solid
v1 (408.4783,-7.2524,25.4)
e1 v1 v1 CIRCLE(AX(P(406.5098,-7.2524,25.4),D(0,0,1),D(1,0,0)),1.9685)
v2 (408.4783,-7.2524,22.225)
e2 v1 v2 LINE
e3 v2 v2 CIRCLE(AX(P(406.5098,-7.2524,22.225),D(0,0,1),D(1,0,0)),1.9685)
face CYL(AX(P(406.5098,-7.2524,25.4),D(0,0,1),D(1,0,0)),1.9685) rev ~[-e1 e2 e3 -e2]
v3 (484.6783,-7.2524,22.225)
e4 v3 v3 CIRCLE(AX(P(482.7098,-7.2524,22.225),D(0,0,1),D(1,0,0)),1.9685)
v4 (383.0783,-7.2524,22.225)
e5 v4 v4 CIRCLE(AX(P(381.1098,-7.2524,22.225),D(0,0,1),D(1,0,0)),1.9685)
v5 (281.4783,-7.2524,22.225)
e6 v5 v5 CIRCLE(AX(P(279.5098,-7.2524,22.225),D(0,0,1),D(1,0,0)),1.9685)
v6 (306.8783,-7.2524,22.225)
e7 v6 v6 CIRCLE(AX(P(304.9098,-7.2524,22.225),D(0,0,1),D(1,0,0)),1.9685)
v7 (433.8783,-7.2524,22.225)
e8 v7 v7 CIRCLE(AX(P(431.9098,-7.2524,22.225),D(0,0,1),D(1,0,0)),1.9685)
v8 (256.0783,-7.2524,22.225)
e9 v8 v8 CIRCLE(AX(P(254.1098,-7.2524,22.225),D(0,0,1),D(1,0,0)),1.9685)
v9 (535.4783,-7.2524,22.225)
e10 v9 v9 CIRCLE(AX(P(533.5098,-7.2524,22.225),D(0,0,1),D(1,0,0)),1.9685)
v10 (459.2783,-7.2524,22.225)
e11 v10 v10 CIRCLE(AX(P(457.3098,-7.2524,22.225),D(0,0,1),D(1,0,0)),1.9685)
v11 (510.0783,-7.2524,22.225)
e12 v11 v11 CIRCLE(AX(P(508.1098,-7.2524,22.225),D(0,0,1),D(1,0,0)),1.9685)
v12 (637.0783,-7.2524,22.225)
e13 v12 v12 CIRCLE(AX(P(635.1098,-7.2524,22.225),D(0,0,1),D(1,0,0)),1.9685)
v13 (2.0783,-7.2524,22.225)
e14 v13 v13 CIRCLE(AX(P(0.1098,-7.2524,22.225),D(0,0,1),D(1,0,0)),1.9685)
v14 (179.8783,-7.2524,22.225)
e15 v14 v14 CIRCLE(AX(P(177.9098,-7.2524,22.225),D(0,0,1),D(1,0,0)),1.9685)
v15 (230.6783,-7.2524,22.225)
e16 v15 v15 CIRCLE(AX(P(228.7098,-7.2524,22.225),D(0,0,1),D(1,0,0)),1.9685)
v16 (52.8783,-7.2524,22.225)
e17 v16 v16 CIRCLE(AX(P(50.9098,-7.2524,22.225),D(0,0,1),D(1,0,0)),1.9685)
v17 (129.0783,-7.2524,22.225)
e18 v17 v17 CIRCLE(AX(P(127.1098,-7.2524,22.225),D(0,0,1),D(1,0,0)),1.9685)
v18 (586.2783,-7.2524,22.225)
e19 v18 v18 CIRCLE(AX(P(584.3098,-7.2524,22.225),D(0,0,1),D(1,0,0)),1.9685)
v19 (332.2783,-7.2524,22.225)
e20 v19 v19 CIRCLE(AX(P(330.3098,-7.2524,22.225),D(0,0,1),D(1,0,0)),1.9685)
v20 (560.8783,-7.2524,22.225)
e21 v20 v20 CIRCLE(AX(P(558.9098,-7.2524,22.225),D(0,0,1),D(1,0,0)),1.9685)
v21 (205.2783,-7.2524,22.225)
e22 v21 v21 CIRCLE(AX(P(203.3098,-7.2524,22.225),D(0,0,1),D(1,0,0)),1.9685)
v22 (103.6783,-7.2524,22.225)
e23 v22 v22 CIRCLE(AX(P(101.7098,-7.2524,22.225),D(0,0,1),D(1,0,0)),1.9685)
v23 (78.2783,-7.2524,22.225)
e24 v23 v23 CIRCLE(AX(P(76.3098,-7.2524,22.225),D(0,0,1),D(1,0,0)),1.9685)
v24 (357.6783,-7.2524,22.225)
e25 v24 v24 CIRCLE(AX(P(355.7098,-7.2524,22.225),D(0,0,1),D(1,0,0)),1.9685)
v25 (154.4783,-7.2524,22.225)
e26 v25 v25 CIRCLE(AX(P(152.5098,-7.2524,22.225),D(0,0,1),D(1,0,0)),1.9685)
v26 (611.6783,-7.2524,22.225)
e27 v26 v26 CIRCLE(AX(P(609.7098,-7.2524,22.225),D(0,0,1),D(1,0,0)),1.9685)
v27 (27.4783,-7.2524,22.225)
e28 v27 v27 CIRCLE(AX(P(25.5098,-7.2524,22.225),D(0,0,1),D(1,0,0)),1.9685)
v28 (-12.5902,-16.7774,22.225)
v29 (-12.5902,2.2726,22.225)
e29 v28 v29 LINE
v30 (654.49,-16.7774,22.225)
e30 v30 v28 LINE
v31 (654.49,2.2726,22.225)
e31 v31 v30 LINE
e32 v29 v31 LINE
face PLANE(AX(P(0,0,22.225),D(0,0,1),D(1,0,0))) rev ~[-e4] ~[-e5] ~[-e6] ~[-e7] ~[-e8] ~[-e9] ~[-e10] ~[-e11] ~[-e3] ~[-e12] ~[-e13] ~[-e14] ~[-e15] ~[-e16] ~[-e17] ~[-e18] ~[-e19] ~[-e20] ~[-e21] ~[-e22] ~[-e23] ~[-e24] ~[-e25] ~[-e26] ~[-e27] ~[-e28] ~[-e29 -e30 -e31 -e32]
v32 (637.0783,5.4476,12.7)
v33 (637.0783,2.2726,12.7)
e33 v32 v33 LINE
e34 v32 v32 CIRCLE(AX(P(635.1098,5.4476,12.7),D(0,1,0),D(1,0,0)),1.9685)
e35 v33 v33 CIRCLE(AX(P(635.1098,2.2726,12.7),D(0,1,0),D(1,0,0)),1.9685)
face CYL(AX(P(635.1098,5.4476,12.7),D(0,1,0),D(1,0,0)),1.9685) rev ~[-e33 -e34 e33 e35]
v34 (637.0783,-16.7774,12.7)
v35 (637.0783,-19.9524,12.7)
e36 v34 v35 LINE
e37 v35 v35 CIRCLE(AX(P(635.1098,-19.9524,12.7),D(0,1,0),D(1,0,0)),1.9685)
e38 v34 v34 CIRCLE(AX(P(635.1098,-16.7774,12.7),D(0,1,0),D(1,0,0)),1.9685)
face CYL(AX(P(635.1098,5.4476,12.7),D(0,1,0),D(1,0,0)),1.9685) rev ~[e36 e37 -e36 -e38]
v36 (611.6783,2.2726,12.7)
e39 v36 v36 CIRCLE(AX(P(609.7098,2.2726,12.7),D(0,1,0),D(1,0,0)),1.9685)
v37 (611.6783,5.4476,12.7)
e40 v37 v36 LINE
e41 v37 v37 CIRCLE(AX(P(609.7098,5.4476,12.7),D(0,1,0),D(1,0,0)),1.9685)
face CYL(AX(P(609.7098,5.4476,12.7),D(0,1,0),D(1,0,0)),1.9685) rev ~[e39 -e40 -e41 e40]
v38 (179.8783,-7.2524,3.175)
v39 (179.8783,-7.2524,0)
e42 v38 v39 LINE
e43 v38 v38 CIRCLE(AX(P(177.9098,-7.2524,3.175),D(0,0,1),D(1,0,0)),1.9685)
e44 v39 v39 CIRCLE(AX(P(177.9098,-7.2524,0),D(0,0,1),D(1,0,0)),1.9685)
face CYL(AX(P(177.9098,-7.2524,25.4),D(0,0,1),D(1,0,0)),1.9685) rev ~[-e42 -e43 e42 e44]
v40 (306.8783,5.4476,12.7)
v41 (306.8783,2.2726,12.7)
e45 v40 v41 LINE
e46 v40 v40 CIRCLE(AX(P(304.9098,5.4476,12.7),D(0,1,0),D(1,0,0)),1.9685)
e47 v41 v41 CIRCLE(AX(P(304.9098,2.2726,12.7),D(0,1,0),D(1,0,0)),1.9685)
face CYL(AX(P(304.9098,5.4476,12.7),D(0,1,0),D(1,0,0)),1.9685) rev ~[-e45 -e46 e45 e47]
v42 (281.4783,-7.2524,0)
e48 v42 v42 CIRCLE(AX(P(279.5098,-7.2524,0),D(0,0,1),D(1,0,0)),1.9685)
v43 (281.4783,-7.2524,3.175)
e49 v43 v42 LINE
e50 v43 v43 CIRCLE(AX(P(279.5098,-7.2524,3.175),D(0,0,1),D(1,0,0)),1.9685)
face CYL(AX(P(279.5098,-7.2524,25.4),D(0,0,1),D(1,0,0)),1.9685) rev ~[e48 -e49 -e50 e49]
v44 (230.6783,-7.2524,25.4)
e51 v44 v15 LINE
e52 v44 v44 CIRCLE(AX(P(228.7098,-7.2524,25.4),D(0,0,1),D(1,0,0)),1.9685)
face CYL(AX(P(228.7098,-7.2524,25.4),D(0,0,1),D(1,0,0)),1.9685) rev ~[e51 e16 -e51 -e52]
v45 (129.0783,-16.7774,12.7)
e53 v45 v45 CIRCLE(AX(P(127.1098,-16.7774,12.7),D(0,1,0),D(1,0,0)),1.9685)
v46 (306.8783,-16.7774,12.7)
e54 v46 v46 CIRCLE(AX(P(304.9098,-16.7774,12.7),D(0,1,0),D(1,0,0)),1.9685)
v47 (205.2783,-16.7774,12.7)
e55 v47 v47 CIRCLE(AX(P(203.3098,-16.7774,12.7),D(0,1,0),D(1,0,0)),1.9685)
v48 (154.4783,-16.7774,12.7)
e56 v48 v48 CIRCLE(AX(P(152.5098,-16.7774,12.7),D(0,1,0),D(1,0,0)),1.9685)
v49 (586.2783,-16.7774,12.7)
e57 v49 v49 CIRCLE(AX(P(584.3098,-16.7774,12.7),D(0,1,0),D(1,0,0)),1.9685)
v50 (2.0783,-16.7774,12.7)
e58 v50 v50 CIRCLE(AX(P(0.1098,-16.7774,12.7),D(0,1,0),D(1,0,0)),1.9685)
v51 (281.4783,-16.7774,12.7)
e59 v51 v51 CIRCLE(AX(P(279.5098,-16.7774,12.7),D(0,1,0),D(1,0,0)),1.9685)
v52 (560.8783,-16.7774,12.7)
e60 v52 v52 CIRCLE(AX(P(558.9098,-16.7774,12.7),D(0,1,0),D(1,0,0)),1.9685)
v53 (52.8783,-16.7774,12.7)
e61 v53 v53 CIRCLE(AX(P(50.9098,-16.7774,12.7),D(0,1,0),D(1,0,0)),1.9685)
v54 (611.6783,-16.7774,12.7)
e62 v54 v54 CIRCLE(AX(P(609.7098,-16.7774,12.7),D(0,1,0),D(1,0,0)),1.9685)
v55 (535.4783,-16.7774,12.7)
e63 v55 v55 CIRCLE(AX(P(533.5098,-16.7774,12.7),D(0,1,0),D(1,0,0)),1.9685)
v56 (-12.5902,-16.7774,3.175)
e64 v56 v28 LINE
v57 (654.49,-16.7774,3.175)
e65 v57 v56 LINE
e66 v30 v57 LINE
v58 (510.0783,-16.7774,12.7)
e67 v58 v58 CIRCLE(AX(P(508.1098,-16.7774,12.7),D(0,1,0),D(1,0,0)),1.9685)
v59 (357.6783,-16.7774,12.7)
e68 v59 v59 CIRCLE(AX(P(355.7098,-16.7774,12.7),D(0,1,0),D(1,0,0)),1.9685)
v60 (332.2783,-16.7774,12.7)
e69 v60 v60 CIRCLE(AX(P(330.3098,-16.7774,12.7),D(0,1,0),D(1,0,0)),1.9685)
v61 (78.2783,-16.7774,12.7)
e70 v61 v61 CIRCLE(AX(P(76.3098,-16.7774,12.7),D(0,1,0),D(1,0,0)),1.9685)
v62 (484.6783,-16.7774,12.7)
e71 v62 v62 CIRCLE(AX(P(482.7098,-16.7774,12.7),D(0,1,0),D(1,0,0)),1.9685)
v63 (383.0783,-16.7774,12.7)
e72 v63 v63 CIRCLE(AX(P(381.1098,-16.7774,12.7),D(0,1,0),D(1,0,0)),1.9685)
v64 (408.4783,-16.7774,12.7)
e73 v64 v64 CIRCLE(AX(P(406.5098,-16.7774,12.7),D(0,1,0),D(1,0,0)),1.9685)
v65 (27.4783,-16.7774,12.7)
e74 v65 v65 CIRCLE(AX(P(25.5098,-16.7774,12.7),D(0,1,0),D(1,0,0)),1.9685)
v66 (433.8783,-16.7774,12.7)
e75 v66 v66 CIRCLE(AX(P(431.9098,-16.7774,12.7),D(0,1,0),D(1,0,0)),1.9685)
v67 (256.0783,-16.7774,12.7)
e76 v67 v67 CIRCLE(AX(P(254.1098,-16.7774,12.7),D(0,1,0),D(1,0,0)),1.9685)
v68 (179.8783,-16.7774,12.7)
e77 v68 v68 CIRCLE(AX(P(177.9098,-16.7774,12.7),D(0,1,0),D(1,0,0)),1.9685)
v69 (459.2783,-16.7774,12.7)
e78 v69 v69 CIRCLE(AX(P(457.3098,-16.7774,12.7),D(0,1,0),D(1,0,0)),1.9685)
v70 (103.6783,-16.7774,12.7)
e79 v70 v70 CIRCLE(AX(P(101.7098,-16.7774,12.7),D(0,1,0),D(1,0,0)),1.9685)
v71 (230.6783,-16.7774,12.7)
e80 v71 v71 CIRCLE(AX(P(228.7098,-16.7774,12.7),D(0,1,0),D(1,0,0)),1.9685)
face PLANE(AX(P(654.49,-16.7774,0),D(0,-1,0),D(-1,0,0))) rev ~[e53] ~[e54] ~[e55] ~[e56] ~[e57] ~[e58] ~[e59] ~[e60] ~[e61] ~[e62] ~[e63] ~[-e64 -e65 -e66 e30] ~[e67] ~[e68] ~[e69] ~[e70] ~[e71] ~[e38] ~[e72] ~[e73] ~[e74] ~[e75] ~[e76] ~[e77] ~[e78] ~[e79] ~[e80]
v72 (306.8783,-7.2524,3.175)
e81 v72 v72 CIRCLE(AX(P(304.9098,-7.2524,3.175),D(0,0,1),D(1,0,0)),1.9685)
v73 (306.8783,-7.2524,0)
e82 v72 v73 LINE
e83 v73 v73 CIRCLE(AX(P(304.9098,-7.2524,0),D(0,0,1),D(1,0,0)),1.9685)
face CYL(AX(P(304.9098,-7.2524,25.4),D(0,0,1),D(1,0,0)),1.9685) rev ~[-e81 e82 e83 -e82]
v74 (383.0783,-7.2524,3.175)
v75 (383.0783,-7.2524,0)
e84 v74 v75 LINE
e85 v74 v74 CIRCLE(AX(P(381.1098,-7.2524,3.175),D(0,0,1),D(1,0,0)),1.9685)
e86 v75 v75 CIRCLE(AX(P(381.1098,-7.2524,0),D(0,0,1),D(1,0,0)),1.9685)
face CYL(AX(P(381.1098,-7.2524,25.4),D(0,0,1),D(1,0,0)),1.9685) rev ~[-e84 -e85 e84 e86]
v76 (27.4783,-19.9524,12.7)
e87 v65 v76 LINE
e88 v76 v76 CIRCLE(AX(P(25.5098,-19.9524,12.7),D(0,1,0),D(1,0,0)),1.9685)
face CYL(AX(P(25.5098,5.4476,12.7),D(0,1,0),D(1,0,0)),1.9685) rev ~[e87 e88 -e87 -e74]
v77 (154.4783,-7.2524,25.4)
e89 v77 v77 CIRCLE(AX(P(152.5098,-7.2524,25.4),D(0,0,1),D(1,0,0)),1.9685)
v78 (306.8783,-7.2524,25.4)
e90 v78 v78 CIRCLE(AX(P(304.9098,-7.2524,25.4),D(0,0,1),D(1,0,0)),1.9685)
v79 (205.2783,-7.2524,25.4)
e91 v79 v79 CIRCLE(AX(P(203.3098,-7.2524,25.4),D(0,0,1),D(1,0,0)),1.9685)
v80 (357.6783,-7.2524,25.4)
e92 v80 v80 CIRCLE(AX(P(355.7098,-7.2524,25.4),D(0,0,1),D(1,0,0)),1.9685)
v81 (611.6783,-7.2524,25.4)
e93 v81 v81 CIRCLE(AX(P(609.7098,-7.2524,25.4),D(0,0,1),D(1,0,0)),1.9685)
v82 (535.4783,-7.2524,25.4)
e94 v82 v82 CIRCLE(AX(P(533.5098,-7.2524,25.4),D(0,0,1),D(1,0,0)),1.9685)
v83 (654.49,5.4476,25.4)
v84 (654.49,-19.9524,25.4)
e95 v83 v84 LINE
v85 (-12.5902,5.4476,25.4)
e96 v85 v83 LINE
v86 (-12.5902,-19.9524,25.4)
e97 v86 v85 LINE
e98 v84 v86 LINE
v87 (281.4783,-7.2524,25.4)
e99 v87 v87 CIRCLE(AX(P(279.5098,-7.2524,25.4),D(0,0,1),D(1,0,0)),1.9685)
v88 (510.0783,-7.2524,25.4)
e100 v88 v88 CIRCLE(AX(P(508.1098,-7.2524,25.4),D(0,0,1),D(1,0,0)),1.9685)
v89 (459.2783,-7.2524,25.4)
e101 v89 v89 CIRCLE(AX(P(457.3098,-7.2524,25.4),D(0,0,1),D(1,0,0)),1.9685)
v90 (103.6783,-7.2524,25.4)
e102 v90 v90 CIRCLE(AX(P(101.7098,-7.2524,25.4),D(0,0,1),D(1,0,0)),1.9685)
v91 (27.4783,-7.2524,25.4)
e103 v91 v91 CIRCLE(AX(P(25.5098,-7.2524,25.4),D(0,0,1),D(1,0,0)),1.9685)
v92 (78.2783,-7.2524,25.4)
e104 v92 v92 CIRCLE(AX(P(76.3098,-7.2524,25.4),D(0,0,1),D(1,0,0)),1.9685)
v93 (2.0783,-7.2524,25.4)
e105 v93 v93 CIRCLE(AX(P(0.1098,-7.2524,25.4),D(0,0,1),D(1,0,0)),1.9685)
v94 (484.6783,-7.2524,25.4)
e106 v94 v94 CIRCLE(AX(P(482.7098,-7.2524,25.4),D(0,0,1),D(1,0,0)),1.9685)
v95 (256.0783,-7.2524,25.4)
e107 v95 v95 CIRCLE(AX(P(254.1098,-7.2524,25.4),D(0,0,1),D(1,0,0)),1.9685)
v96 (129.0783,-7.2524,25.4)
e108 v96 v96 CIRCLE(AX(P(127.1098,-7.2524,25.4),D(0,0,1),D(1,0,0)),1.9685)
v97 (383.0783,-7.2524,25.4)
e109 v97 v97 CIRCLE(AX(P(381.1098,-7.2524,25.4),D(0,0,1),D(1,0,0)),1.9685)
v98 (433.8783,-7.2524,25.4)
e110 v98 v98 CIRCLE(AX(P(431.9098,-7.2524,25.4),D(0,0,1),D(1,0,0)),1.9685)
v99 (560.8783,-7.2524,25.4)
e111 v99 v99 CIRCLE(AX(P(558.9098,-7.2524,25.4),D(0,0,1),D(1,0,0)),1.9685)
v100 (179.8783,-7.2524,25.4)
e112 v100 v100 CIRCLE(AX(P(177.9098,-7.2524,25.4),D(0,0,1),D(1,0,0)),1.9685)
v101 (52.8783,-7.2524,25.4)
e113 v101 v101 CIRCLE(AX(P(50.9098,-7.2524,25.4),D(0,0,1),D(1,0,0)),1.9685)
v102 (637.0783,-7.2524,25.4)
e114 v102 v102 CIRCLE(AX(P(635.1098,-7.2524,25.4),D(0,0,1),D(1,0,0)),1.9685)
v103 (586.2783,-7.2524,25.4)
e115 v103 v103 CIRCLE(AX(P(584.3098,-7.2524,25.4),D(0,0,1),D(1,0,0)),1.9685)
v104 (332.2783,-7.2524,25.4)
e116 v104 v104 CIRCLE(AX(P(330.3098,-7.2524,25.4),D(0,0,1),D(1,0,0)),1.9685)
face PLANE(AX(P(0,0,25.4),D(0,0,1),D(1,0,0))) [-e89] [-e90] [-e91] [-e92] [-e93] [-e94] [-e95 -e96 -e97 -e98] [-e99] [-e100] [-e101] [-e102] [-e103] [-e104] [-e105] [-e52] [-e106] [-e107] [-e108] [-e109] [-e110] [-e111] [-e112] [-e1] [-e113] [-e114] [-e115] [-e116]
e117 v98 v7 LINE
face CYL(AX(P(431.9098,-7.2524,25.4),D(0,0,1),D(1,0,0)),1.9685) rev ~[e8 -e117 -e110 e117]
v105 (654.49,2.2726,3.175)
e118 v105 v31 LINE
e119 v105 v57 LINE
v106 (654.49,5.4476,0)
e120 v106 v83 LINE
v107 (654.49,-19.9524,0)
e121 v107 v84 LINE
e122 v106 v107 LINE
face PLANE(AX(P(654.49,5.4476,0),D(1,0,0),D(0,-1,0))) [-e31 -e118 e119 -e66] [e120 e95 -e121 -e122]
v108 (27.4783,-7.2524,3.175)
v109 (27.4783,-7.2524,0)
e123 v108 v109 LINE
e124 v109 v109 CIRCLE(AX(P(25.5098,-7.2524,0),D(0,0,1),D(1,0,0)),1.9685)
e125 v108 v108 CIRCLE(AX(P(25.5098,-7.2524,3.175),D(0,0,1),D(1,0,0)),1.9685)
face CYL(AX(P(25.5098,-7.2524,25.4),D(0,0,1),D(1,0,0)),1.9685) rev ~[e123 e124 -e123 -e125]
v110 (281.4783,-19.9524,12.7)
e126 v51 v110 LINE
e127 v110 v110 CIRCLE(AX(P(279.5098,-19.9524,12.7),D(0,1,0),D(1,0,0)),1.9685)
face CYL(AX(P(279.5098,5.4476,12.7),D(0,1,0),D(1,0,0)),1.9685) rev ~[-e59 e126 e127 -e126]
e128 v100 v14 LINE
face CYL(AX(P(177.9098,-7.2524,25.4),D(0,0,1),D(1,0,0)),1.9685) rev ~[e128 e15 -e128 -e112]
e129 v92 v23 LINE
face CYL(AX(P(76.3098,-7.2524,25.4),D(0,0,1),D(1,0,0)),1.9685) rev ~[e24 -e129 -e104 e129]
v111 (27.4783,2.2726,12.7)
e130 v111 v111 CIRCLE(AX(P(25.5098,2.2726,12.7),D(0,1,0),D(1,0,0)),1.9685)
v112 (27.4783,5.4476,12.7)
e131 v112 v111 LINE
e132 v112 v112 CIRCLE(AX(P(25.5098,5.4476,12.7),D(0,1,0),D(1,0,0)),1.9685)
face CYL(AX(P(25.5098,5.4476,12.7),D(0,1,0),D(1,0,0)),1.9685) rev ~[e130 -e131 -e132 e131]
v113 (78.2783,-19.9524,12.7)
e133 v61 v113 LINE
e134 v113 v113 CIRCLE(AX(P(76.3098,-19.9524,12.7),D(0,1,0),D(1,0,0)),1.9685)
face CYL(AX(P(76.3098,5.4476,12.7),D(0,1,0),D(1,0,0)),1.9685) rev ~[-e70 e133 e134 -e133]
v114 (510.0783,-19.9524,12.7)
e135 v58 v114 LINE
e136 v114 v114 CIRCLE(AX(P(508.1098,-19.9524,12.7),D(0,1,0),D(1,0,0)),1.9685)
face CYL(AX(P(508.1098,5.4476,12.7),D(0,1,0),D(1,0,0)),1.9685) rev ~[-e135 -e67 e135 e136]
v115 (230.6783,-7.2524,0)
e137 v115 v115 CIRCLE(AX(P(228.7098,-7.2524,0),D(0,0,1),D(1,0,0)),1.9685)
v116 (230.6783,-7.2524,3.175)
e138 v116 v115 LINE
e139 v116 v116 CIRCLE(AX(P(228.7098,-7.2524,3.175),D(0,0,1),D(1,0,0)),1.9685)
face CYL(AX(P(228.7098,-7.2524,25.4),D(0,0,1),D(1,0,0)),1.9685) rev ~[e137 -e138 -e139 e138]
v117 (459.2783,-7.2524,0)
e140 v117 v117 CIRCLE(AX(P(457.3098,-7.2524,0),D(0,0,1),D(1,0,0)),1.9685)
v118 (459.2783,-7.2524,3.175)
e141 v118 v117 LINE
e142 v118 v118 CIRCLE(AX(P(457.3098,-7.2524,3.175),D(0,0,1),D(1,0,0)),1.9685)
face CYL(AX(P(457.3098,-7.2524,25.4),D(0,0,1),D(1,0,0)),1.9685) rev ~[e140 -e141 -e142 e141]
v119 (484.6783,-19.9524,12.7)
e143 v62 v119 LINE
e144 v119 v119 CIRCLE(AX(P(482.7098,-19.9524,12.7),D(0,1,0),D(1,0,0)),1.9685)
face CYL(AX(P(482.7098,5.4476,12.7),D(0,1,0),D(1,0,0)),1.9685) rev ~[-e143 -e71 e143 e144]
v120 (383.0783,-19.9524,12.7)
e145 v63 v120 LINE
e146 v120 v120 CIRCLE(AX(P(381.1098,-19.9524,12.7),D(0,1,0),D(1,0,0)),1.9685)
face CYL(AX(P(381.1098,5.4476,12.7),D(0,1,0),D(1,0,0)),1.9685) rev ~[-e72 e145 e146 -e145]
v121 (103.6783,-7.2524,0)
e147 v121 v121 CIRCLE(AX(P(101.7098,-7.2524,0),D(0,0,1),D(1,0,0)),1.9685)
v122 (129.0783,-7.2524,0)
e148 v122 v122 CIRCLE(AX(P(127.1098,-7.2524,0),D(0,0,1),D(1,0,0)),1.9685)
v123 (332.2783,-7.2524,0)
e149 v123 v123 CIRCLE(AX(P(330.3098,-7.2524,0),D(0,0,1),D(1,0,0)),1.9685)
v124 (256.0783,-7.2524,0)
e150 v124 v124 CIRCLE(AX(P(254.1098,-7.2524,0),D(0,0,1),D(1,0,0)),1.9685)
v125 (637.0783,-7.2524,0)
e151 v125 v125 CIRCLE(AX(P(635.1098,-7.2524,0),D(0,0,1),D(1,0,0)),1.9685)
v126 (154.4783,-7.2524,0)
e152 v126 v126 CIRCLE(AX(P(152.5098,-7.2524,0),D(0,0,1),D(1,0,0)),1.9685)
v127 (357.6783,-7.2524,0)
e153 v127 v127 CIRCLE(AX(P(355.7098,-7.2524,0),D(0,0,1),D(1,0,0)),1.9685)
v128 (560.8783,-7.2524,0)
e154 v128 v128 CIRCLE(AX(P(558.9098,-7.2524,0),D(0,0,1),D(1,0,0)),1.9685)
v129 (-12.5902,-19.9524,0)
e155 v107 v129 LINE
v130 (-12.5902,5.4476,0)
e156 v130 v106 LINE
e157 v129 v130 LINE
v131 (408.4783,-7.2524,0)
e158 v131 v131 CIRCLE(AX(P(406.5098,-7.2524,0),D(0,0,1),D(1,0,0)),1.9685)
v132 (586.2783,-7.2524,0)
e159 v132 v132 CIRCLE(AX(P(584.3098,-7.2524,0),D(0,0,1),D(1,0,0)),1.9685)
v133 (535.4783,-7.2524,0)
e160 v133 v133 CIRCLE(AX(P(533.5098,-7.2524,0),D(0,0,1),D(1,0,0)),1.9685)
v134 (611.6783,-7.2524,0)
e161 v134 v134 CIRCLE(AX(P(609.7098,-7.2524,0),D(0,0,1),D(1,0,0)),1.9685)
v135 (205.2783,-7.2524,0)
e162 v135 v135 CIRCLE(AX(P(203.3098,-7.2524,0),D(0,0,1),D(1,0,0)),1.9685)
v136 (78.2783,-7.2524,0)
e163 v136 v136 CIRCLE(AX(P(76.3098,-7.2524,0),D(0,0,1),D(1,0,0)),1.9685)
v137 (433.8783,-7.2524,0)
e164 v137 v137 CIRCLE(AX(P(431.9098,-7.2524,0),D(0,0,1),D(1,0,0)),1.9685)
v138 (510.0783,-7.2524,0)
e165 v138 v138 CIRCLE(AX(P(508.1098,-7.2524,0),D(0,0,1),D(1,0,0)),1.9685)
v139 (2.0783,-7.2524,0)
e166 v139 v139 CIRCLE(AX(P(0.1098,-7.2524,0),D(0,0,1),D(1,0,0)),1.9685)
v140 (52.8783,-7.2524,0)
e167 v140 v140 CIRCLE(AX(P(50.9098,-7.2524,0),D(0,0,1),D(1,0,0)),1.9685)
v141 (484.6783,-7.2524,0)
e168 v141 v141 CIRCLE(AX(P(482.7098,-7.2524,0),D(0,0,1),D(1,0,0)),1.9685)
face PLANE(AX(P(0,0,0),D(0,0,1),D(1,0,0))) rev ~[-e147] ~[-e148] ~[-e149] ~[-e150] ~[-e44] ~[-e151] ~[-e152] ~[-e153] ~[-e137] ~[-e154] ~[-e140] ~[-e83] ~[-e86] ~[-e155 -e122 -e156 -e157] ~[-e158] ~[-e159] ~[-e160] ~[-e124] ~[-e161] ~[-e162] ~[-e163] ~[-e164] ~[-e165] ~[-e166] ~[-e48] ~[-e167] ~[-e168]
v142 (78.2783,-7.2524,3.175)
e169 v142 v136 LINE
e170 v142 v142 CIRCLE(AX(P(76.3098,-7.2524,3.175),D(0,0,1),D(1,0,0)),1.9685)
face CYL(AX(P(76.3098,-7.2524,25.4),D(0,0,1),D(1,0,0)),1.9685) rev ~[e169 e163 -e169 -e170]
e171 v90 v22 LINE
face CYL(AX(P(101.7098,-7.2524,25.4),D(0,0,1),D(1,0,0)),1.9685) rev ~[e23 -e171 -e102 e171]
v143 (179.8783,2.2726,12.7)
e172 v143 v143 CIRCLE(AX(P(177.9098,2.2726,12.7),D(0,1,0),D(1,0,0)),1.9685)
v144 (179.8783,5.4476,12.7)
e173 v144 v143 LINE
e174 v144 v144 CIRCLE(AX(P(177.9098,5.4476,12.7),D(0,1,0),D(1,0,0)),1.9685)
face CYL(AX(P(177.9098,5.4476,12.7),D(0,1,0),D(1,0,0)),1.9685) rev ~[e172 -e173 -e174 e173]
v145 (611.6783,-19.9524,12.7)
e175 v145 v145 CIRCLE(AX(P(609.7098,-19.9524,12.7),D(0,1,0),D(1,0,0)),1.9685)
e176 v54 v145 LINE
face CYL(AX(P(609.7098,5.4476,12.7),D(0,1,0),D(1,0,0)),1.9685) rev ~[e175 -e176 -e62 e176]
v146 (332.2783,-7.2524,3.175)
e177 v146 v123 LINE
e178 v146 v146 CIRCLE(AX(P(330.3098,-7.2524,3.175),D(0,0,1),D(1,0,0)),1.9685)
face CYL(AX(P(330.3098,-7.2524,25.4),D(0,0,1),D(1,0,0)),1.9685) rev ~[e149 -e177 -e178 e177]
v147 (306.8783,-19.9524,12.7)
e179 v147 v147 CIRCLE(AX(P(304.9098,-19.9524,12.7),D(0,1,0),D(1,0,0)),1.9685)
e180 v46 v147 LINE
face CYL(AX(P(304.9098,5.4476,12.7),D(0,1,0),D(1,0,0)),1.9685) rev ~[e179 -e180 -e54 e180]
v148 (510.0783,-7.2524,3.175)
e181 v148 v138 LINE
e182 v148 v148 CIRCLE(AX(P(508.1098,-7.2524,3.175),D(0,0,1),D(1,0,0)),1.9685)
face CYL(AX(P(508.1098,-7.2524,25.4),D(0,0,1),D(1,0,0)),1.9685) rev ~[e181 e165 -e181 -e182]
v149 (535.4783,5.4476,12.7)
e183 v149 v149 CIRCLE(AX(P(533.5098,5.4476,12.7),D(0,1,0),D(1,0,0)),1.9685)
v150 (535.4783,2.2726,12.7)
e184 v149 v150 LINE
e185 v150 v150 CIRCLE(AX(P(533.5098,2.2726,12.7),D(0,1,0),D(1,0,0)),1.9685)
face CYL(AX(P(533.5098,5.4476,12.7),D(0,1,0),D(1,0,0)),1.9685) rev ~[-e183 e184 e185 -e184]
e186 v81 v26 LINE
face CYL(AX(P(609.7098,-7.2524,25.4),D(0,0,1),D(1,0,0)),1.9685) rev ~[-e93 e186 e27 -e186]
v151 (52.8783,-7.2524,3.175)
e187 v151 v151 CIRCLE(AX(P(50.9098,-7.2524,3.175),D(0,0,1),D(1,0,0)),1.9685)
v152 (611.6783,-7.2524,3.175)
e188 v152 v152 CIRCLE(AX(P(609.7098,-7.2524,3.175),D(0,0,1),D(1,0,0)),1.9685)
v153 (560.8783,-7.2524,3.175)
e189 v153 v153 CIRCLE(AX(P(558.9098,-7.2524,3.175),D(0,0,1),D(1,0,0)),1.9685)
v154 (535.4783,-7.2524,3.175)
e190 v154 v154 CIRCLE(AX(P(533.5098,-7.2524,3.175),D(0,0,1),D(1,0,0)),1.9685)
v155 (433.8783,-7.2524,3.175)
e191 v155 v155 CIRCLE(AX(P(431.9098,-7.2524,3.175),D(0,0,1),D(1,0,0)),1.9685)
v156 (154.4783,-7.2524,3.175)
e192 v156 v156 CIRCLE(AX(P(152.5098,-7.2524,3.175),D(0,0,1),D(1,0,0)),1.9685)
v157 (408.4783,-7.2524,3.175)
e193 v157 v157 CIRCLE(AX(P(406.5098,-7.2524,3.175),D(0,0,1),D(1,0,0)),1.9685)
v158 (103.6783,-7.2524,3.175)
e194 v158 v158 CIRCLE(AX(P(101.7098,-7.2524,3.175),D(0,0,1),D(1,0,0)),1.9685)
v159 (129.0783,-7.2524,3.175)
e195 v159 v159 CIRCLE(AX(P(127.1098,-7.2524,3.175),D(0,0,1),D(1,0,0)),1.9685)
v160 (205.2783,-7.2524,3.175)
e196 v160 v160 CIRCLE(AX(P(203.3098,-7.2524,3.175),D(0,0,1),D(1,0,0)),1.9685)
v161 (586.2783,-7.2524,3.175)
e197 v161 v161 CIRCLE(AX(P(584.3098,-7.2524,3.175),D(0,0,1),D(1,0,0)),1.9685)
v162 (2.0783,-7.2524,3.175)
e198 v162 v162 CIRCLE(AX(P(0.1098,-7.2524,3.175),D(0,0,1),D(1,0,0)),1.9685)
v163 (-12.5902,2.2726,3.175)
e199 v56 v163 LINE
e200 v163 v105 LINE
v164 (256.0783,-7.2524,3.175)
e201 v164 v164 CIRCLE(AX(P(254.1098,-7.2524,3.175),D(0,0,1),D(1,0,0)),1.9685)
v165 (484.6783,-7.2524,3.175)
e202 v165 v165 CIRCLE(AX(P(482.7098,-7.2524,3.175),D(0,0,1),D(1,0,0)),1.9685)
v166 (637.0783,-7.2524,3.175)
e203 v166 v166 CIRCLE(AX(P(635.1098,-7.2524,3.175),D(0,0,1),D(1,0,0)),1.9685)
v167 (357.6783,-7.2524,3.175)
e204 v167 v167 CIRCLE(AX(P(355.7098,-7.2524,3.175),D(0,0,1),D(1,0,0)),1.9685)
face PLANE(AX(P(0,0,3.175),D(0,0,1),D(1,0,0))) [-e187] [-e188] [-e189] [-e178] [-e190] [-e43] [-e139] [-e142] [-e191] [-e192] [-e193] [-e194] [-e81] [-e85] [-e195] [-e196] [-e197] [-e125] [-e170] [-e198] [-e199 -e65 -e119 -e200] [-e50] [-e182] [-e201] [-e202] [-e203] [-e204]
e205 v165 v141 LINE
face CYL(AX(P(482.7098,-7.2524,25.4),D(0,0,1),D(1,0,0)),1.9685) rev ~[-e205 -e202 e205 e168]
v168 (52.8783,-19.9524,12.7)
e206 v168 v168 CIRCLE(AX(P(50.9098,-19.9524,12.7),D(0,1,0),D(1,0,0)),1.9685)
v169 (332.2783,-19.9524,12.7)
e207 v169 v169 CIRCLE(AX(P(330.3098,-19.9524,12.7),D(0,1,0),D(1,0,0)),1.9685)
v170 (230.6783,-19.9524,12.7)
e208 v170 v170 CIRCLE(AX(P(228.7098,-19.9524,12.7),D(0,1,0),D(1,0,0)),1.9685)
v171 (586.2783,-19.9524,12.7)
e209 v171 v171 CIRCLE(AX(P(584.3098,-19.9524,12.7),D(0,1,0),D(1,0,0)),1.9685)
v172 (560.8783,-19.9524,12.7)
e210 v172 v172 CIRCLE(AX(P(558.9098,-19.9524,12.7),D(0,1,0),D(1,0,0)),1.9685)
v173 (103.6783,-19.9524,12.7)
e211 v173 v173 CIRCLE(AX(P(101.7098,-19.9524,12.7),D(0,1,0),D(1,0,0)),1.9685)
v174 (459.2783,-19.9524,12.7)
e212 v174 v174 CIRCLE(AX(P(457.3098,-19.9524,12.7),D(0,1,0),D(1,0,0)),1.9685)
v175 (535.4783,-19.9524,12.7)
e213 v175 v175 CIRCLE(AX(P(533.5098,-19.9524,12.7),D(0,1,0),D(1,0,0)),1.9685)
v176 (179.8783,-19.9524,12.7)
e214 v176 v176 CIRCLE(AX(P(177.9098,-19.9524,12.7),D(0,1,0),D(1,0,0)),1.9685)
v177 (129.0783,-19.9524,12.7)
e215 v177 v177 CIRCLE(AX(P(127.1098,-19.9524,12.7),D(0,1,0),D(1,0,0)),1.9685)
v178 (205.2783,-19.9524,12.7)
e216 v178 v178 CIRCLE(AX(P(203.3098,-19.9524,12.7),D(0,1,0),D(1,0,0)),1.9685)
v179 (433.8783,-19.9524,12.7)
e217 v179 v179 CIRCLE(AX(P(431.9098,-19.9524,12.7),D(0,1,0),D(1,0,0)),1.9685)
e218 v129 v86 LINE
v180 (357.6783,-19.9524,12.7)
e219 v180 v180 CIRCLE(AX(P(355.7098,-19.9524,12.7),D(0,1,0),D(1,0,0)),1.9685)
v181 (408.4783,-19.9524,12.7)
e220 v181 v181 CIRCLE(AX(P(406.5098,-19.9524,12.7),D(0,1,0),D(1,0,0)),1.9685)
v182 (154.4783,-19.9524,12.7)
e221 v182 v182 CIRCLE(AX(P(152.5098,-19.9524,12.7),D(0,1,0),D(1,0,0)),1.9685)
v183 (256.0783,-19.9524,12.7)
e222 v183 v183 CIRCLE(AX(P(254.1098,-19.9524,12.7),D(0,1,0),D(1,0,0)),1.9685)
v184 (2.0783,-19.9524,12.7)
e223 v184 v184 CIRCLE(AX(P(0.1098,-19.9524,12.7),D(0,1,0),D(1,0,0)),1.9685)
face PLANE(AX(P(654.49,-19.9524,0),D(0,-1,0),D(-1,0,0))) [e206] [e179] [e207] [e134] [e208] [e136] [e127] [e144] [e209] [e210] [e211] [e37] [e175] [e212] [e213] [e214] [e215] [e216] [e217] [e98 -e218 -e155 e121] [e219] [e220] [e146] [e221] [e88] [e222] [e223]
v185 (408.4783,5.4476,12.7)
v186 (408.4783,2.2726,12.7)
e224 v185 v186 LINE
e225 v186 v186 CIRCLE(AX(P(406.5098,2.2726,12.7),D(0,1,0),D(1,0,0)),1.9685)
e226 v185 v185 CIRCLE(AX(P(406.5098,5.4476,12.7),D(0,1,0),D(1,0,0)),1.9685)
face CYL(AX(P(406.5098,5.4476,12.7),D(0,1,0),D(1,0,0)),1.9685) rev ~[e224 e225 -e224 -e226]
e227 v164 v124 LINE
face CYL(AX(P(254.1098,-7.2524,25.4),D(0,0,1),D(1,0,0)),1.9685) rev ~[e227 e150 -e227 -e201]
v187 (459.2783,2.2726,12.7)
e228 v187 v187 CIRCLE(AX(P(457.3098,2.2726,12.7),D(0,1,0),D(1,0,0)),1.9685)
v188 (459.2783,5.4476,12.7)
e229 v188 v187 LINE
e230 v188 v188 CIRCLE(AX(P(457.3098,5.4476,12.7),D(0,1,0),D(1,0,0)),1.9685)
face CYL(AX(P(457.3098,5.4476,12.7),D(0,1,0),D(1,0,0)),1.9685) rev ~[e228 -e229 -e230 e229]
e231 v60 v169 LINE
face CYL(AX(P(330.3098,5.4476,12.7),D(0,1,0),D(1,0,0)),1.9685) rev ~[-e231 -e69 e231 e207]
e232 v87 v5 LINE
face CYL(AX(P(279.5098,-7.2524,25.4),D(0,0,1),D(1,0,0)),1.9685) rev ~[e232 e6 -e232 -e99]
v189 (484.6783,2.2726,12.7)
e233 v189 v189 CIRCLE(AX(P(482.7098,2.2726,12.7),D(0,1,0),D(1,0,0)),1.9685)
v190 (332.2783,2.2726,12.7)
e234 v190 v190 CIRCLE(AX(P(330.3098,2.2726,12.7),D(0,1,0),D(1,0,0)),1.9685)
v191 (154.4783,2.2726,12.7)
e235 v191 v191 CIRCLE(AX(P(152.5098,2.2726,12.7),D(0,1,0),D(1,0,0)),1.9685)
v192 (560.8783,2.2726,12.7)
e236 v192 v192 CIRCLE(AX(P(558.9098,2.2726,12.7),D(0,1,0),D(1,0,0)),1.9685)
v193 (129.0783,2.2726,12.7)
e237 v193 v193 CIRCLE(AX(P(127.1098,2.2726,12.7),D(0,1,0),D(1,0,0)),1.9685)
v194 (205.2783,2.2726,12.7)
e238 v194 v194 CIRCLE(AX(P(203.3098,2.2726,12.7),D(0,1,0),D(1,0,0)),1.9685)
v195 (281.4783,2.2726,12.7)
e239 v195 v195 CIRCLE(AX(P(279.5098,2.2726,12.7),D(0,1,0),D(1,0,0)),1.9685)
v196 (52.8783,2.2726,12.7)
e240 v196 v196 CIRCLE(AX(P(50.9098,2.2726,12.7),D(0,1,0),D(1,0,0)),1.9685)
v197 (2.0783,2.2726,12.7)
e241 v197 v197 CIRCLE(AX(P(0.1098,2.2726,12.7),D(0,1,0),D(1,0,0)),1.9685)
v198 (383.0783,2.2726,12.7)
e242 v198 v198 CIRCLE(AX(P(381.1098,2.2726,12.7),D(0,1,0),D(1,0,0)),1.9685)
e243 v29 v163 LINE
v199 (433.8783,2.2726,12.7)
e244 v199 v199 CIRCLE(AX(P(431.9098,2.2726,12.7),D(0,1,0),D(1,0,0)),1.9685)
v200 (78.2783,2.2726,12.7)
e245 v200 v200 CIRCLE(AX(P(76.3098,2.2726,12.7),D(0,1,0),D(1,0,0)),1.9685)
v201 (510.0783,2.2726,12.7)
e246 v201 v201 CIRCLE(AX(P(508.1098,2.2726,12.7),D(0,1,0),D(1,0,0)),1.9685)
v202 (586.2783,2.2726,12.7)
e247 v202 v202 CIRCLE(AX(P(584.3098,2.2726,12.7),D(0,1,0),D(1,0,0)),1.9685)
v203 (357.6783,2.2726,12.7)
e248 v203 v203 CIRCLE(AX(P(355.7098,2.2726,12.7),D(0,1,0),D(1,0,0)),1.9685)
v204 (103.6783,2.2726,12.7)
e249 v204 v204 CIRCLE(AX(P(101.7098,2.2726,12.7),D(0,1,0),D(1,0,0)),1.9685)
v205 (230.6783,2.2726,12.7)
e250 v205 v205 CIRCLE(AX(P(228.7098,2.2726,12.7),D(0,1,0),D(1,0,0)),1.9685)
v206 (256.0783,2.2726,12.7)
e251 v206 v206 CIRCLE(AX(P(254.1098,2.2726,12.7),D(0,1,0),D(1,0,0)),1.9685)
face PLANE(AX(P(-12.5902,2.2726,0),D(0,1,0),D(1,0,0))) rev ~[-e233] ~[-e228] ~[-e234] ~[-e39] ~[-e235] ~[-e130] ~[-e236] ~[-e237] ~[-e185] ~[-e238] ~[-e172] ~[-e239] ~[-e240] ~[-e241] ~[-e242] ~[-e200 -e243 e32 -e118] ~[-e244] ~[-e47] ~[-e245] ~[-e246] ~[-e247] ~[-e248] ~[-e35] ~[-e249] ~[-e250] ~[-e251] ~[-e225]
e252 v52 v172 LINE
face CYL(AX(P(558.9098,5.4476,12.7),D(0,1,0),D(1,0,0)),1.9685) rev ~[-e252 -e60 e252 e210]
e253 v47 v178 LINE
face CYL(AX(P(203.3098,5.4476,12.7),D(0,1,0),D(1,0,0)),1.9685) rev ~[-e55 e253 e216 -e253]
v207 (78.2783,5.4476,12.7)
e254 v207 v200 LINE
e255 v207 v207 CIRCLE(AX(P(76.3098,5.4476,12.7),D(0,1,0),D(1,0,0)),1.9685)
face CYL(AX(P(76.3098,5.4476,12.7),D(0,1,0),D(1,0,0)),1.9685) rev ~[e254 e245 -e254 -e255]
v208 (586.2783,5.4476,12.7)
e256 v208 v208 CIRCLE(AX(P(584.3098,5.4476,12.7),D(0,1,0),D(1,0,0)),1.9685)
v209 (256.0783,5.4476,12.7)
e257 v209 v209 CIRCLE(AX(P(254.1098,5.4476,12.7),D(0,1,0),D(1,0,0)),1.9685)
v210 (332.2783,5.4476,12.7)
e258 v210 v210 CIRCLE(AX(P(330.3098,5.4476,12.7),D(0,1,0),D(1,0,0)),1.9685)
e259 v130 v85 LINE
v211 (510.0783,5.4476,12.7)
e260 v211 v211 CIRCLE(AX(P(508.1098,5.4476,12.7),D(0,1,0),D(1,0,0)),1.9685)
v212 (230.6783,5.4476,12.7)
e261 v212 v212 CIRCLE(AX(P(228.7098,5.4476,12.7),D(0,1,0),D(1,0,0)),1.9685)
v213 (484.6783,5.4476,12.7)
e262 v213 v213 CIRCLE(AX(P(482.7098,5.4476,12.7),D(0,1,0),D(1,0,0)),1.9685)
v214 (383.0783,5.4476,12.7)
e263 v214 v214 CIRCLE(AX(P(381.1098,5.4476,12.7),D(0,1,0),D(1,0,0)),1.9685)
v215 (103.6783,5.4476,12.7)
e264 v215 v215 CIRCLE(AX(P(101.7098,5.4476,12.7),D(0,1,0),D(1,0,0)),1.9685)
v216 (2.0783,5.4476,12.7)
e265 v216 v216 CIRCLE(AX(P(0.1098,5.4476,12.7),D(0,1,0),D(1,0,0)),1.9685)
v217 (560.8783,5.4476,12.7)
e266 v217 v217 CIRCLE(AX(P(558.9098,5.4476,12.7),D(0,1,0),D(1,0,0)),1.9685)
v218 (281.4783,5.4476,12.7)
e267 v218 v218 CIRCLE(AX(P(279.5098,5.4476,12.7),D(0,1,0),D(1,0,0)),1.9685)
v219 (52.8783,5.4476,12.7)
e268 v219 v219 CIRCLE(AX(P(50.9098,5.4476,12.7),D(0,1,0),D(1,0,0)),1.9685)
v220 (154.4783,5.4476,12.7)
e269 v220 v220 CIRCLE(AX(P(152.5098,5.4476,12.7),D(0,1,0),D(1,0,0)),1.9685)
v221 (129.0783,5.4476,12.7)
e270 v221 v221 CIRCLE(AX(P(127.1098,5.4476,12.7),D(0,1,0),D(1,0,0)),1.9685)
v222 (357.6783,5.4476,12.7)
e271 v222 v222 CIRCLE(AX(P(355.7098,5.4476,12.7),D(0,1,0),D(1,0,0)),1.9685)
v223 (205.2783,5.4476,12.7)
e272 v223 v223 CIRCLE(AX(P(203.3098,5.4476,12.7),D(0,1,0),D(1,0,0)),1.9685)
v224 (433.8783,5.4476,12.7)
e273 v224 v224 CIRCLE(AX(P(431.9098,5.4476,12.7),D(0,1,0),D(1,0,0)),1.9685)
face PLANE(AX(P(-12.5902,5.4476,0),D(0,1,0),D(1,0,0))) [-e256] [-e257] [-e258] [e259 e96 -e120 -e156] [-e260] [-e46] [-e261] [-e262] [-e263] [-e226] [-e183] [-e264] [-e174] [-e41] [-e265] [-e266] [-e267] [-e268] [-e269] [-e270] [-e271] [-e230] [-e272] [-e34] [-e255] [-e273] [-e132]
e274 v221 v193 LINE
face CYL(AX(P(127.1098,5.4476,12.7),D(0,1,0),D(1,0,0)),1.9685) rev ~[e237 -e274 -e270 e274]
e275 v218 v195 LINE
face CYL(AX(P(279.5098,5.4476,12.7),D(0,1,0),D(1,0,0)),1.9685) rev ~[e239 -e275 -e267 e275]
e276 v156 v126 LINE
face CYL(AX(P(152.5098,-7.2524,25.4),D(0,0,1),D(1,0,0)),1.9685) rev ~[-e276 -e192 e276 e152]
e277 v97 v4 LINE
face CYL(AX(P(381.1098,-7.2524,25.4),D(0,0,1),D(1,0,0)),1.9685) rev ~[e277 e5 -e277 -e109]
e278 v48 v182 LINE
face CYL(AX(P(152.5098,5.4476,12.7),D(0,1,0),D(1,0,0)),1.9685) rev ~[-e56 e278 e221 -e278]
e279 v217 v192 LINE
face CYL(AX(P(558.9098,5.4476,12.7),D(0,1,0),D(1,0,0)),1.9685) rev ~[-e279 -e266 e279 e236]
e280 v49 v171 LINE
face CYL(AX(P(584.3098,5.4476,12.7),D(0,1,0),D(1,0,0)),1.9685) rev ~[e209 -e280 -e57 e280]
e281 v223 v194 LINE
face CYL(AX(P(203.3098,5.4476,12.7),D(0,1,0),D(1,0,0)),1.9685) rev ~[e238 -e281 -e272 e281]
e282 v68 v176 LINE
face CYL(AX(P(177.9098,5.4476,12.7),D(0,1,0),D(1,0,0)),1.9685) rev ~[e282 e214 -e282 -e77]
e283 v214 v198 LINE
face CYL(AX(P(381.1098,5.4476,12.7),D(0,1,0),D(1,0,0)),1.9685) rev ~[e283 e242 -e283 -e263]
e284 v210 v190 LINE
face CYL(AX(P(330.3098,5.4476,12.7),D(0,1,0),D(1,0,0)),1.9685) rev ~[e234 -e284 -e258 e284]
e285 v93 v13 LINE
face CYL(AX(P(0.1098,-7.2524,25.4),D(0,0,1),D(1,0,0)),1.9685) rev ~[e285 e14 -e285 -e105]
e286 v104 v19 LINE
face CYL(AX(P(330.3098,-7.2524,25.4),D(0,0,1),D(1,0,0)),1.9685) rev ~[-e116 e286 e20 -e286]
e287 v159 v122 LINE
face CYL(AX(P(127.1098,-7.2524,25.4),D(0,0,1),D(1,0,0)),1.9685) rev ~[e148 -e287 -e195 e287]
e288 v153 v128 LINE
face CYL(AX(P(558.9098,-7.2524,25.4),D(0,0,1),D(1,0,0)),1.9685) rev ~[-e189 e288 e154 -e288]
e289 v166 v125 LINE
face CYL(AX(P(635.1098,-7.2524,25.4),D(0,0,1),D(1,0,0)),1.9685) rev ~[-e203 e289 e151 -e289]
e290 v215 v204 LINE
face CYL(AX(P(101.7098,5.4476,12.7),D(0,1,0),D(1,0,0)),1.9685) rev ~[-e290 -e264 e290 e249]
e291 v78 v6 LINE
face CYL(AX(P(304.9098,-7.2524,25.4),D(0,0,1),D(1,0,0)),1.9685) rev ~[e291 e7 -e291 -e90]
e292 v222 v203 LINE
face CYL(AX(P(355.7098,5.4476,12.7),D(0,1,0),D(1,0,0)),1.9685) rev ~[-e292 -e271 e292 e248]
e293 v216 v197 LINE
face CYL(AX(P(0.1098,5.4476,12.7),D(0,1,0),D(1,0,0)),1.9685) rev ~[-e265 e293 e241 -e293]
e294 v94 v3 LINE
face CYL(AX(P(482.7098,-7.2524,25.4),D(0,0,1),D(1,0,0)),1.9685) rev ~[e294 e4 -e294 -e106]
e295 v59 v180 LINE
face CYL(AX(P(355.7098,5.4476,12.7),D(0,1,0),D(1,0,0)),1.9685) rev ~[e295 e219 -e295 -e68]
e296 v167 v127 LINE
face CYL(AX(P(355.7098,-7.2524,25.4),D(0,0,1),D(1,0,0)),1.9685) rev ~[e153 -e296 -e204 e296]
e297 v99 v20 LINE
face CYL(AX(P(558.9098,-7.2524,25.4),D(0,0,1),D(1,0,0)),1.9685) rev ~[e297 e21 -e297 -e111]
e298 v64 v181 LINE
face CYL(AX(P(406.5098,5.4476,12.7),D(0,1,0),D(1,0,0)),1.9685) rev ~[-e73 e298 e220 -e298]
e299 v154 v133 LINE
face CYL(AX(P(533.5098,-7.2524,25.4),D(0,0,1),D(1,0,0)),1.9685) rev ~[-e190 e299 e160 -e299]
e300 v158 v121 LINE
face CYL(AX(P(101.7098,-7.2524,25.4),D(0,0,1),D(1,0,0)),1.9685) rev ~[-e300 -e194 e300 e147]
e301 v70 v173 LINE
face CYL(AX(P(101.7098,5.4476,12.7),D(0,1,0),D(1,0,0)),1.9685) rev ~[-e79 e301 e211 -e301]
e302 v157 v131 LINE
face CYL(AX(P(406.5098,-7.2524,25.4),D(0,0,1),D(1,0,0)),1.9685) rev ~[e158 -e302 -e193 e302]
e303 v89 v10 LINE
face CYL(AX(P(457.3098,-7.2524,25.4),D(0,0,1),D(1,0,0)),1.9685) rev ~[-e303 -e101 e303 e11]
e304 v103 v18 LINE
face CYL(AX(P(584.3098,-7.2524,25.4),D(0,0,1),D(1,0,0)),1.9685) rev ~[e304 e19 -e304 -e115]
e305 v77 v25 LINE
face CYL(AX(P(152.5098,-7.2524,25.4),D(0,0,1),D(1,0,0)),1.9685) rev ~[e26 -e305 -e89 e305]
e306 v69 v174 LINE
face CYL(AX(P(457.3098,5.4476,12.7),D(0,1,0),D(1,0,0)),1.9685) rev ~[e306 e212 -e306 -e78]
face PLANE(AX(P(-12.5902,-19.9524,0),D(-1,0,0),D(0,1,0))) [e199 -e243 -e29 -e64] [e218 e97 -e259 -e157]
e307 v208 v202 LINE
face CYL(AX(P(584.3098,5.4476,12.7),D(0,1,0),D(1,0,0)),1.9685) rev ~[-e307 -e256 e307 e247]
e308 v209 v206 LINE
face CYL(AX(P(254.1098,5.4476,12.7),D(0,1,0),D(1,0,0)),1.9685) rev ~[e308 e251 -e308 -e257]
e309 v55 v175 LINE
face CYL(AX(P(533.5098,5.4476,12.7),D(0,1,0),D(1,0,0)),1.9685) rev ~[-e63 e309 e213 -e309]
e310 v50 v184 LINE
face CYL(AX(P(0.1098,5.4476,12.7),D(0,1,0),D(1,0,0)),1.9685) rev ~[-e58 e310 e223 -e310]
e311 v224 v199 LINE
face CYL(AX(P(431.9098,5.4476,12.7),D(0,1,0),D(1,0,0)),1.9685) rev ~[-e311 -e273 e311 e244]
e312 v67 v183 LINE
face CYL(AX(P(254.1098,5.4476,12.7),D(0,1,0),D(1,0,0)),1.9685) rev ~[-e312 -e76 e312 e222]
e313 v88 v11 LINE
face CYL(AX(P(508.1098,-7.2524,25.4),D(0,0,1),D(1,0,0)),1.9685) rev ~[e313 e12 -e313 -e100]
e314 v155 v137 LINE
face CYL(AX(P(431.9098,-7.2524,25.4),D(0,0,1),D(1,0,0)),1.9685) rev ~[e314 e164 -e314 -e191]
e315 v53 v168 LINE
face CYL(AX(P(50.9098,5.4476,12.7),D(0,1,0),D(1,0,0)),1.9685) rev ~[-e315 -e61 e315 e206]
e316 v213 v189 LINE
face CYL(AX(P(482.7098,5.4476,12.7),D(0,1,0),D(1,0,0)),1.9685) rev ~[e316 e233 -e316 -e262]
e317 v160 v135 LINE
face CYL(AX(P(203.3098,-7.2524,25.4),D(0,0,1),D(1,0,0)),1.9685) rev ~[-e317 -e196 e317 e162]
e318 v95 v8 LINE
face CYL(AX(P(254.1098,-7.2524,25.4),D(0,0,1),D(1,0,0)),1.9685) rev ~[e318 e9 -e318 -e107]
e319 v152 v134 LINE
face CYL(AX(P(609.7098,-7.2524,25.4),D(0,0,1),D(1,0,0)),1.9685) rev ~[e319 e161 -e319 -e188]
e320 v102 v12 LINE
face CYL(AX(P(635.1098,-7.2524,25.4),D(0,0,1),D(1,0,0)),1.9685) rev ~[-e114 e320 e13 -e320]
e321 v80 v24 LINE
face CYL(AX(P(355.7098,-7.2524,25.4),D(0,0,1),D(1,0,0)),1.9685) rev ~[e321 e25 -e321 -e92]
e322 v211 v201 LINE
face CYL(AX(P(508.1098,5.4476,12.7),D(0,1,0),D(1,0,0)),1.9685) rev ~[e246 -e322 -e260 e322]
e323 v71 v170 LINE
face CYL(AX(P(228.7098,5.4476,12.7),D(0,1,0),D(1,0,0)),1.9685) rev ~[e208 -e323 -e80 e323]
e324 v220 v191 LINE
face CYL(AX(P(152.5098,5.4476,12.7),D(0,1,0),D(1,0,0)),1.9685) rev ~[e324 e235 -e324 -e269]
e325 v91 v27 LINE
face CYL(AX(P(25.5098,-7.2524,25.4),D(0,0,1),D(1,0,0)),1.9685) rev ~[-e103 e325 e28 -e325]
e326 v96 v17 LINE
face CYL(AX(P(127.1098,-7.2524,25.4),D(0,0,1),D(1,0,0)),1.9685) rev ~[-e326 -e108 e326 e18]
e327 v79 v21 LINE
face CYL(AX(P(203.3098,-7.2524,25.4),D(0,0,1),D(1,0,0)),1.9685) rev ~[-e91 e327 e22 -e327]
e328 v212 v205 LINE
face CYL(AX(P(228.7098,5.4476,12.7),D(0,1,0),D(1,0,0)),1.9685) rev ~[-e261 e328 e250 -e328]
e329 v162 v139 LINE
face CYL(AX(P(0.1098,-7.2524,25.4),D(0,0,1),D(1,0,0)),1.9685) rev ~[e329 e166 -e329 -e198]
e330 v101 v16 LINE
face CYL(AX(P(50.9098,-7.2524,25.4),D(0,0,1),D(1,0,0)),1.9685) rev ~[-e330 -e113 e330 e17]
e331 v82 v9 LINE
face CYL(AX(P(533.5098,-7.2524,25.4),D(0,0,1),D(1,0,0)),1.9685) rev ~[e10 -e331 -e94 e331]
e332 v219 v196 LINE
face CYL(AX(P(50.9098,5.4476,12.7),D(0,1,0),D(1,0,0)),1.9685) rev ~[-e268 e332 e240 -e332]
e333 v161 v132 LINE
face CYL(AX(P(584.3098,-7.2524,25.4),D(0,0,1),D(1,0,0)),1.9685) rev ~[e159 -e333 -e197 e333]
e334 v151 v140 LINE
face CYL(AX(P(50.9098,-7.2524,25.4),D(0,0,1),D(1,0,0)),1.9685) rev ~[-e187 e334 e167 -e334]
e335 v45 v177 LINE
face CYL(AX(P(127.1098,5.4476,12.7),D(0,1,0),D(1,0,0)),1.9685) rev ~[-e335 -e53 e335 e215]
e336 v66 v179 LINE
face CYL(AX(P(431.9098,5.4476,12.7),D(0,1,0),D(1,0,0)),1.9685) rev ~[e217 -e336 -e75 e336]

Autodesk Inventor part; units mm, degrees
ref_plane "YZ Plane" through (0, 0, 0) normal (1, 0, 0) x (0, 1, 0)
ref_plane "XZ Plane" through (0, 0, 0) normal (0, 1, 0) x (-1, 0, 0)
ref_plane "XY Plane" through (0, 0, 0) normal (0, 0, 1) x (1, 0, 0)
sketch "Sketch1" plane through (0, 0, 0) normal (0, 0, 1) x (1, 0, 0)
  line L0 (-12.5902, 5.4476) -> (654.49, 5.4476)
  line L1 (654.49, 5.4476) -> (654.49, -19.9524)
  line L2 (654.49, -19.9524) -> (-12.5902, -19.9524)
  line L3 (-12.5902, -19.9524) -> (-12.5902, 5.4476)
  point P0 (0, 0)
  dimension "d0" = 667.0802
  dimension "d1" = 25.4
extrude "Extrusion1" add sketch "Sketch1" along normal blind 25.4
sketch "Sketch2" plane through (0, 0, 25.4) normal (0, 0, 1) x (1, 0, 0)
  circle A0 centre (0.1098, -7.2524) radius 1.9685
  line L0 (-12.5902, 5.4476) -> (-12.5902, -19.9524) projected
  line L1 (-12.5902, -19.9524) -> (654.49, -19.9524) projected
  circle A1 centre (25.5098, -7.2524) radius 1.9685
  circle A2 centre (50.9098, -7.2524) radius 1.9685
  circle A3 centre (76.3098, -7.2524) radius 1.9685
  circle A4 centre (101.7098, -7.2524) radius 1.9685
  circle A5 centre (127.1098, -7.2524) radius 1.9685
  circle A6 centre (152.5098, -7.2524) radius 1.9685
  circle A7 centre (177.9098, -7.2524) radius 1.9685
  circle A8 centre (203.3098, -7.2524) radius 1.9685
  circle A9 centre (228.7098, -7.2524) radius 1.9685
  circle A10 centre (254.1098, -7.2524) radius 1.9685
  circle A11 centre (279.5098, -7.2524) radius 1.9685
  circle A12 centre (304.9098, -7.2524) radius 1.9685
  circle A13 centre (330.3098, -7.2524) radius 1.9685
  circle A14 centre (355.7098, -7.2524) radius 1.9685
  circle A15 centre (381.1098, -7.2524) radius 1.9685
  circle A16 centre (406.5098, -7.2524) radius 1.9685
  circle A17 centre (431.9098, -7.2524) radius 1.9685
  circle A18 centre (457.3098, -7.2524) radius 1.9685
  circle A19 centre (482.7098, -7.2524) radius 1.9685
  circle A20 centre (508.1098, -7.2524) radius 1.9685
  circle A21 centre (533.5098, -7.2524) radius 1.9685
  circle A22 centre (558.9098, -7.2524) radius 1.9685
  circle A23 centre (584.3098, -7.2524) radius 1.9685
  circle A24 centre (609.7098, -7.2524) radius 1.9685
  circle A25 centre (635.1098, -7.2524) radius 1.9685
  circle A26 centre (635.1098, -7.2524) radius 1.9685
  circle A27 centre (660.5098, -7.2524) radius 1.9685
  circle A28 centre (685.9098, -7.2524) radius 1.9685
  point P0 (0, 0)
  dimension "d4" = 3.937
  dimension "d5" = 12.7
  dimension "d6" = 12.7
  dimension "d9" = 25.4
  dimension "d16" = 25.4
sketch "Sketch4" plane through (-12.5902, 5.4476, 0) normal (0, 1, 0) x (1, 0, 0)
  circle A0 centre (12.7, -12.7) radius 1.9685
  line L0 (0, 0) -> (0, -25.4) projected
  line L1 (667.0802, -25.4) -> (0, -25.4) projected
  circle A1 centre (38.1, -12.7) radius 1.9685
  circle A2 centre (63.5, -12.7) radius 1.9685
  circle A3 centre (88.9, -12.7) radius 1.9685
  circle A4 centre (114.3, -12.7) radius 1.9685
  circle A5 centre (139.7, -12.7) radius 1.9685
  circle A6 centre (165.1, -12.7) radius 1.9685
  circle A7 centre (190.5, -12.7) radius 1.9685
  circle A8 centre (215.9, -12.7) radius 1.9685
  circle A9 centre (241.3, -12.7) radius 1.9685
  circle A10 centre (266.7, -12.7) radius 1.9685
  circle A11 centre (292.1, -12.7) radius 1.9685
  circle A12 centre (317.5, -12.7) radius 1.9685
  circle A13 centre (342.9, -12.7) radius 1.9685
  circle A14 centre (368.3, -12.7) radius 1.9685
  circle A15 centre (393.7, -12.7) radius 1.9685
  circle A16 centre (419.1, -12.7) radius 1.9685
  circle A17 centre (444.5, -12.7) radius 1.9685
  circle A18 centre (469.9, -12.7) radius 1.9685
  circle A19 centre (495.3, -12.7) radius 1.9685
  circle A20 centre (520.7, -12.7) radius 1.9685
  circle A21 centre (546.1, -12.7) radius 1.9685
  circle A22 centre (571.5, -12.7) radius 1.9685
  circle A23 centre (596.9, -12.7) radius 1.9685
  circle A24 centre (622.3, -12.7) radius 1.9685
  circle A25 centre (647.7, -12.7) radius 1.9685
  circle A26 centre (673.1, -12.7) radius 1.9685
  circle A27 centre (698.5, -12.7) radius 1.9685
  point P0 (12.5902, 0)
  dimension "d27" = 3.937
  dimension "d28" = 12.7
  dimension "d29" = 12.7
  dimension "d32" = 25.4
shell "Shell1" thickness 3.175 removed faces 2 at (654.49, -3.019, 8.4667) at (-12.5902, -11.4857, 16.9333)
extrude "Extrusion5" cut sketch "Sketch2" against normal blind 25.4
extrude "Extrusion6" cut sketch "Sketch4" against normal blind 25.4
properties part number "numbah 9"
